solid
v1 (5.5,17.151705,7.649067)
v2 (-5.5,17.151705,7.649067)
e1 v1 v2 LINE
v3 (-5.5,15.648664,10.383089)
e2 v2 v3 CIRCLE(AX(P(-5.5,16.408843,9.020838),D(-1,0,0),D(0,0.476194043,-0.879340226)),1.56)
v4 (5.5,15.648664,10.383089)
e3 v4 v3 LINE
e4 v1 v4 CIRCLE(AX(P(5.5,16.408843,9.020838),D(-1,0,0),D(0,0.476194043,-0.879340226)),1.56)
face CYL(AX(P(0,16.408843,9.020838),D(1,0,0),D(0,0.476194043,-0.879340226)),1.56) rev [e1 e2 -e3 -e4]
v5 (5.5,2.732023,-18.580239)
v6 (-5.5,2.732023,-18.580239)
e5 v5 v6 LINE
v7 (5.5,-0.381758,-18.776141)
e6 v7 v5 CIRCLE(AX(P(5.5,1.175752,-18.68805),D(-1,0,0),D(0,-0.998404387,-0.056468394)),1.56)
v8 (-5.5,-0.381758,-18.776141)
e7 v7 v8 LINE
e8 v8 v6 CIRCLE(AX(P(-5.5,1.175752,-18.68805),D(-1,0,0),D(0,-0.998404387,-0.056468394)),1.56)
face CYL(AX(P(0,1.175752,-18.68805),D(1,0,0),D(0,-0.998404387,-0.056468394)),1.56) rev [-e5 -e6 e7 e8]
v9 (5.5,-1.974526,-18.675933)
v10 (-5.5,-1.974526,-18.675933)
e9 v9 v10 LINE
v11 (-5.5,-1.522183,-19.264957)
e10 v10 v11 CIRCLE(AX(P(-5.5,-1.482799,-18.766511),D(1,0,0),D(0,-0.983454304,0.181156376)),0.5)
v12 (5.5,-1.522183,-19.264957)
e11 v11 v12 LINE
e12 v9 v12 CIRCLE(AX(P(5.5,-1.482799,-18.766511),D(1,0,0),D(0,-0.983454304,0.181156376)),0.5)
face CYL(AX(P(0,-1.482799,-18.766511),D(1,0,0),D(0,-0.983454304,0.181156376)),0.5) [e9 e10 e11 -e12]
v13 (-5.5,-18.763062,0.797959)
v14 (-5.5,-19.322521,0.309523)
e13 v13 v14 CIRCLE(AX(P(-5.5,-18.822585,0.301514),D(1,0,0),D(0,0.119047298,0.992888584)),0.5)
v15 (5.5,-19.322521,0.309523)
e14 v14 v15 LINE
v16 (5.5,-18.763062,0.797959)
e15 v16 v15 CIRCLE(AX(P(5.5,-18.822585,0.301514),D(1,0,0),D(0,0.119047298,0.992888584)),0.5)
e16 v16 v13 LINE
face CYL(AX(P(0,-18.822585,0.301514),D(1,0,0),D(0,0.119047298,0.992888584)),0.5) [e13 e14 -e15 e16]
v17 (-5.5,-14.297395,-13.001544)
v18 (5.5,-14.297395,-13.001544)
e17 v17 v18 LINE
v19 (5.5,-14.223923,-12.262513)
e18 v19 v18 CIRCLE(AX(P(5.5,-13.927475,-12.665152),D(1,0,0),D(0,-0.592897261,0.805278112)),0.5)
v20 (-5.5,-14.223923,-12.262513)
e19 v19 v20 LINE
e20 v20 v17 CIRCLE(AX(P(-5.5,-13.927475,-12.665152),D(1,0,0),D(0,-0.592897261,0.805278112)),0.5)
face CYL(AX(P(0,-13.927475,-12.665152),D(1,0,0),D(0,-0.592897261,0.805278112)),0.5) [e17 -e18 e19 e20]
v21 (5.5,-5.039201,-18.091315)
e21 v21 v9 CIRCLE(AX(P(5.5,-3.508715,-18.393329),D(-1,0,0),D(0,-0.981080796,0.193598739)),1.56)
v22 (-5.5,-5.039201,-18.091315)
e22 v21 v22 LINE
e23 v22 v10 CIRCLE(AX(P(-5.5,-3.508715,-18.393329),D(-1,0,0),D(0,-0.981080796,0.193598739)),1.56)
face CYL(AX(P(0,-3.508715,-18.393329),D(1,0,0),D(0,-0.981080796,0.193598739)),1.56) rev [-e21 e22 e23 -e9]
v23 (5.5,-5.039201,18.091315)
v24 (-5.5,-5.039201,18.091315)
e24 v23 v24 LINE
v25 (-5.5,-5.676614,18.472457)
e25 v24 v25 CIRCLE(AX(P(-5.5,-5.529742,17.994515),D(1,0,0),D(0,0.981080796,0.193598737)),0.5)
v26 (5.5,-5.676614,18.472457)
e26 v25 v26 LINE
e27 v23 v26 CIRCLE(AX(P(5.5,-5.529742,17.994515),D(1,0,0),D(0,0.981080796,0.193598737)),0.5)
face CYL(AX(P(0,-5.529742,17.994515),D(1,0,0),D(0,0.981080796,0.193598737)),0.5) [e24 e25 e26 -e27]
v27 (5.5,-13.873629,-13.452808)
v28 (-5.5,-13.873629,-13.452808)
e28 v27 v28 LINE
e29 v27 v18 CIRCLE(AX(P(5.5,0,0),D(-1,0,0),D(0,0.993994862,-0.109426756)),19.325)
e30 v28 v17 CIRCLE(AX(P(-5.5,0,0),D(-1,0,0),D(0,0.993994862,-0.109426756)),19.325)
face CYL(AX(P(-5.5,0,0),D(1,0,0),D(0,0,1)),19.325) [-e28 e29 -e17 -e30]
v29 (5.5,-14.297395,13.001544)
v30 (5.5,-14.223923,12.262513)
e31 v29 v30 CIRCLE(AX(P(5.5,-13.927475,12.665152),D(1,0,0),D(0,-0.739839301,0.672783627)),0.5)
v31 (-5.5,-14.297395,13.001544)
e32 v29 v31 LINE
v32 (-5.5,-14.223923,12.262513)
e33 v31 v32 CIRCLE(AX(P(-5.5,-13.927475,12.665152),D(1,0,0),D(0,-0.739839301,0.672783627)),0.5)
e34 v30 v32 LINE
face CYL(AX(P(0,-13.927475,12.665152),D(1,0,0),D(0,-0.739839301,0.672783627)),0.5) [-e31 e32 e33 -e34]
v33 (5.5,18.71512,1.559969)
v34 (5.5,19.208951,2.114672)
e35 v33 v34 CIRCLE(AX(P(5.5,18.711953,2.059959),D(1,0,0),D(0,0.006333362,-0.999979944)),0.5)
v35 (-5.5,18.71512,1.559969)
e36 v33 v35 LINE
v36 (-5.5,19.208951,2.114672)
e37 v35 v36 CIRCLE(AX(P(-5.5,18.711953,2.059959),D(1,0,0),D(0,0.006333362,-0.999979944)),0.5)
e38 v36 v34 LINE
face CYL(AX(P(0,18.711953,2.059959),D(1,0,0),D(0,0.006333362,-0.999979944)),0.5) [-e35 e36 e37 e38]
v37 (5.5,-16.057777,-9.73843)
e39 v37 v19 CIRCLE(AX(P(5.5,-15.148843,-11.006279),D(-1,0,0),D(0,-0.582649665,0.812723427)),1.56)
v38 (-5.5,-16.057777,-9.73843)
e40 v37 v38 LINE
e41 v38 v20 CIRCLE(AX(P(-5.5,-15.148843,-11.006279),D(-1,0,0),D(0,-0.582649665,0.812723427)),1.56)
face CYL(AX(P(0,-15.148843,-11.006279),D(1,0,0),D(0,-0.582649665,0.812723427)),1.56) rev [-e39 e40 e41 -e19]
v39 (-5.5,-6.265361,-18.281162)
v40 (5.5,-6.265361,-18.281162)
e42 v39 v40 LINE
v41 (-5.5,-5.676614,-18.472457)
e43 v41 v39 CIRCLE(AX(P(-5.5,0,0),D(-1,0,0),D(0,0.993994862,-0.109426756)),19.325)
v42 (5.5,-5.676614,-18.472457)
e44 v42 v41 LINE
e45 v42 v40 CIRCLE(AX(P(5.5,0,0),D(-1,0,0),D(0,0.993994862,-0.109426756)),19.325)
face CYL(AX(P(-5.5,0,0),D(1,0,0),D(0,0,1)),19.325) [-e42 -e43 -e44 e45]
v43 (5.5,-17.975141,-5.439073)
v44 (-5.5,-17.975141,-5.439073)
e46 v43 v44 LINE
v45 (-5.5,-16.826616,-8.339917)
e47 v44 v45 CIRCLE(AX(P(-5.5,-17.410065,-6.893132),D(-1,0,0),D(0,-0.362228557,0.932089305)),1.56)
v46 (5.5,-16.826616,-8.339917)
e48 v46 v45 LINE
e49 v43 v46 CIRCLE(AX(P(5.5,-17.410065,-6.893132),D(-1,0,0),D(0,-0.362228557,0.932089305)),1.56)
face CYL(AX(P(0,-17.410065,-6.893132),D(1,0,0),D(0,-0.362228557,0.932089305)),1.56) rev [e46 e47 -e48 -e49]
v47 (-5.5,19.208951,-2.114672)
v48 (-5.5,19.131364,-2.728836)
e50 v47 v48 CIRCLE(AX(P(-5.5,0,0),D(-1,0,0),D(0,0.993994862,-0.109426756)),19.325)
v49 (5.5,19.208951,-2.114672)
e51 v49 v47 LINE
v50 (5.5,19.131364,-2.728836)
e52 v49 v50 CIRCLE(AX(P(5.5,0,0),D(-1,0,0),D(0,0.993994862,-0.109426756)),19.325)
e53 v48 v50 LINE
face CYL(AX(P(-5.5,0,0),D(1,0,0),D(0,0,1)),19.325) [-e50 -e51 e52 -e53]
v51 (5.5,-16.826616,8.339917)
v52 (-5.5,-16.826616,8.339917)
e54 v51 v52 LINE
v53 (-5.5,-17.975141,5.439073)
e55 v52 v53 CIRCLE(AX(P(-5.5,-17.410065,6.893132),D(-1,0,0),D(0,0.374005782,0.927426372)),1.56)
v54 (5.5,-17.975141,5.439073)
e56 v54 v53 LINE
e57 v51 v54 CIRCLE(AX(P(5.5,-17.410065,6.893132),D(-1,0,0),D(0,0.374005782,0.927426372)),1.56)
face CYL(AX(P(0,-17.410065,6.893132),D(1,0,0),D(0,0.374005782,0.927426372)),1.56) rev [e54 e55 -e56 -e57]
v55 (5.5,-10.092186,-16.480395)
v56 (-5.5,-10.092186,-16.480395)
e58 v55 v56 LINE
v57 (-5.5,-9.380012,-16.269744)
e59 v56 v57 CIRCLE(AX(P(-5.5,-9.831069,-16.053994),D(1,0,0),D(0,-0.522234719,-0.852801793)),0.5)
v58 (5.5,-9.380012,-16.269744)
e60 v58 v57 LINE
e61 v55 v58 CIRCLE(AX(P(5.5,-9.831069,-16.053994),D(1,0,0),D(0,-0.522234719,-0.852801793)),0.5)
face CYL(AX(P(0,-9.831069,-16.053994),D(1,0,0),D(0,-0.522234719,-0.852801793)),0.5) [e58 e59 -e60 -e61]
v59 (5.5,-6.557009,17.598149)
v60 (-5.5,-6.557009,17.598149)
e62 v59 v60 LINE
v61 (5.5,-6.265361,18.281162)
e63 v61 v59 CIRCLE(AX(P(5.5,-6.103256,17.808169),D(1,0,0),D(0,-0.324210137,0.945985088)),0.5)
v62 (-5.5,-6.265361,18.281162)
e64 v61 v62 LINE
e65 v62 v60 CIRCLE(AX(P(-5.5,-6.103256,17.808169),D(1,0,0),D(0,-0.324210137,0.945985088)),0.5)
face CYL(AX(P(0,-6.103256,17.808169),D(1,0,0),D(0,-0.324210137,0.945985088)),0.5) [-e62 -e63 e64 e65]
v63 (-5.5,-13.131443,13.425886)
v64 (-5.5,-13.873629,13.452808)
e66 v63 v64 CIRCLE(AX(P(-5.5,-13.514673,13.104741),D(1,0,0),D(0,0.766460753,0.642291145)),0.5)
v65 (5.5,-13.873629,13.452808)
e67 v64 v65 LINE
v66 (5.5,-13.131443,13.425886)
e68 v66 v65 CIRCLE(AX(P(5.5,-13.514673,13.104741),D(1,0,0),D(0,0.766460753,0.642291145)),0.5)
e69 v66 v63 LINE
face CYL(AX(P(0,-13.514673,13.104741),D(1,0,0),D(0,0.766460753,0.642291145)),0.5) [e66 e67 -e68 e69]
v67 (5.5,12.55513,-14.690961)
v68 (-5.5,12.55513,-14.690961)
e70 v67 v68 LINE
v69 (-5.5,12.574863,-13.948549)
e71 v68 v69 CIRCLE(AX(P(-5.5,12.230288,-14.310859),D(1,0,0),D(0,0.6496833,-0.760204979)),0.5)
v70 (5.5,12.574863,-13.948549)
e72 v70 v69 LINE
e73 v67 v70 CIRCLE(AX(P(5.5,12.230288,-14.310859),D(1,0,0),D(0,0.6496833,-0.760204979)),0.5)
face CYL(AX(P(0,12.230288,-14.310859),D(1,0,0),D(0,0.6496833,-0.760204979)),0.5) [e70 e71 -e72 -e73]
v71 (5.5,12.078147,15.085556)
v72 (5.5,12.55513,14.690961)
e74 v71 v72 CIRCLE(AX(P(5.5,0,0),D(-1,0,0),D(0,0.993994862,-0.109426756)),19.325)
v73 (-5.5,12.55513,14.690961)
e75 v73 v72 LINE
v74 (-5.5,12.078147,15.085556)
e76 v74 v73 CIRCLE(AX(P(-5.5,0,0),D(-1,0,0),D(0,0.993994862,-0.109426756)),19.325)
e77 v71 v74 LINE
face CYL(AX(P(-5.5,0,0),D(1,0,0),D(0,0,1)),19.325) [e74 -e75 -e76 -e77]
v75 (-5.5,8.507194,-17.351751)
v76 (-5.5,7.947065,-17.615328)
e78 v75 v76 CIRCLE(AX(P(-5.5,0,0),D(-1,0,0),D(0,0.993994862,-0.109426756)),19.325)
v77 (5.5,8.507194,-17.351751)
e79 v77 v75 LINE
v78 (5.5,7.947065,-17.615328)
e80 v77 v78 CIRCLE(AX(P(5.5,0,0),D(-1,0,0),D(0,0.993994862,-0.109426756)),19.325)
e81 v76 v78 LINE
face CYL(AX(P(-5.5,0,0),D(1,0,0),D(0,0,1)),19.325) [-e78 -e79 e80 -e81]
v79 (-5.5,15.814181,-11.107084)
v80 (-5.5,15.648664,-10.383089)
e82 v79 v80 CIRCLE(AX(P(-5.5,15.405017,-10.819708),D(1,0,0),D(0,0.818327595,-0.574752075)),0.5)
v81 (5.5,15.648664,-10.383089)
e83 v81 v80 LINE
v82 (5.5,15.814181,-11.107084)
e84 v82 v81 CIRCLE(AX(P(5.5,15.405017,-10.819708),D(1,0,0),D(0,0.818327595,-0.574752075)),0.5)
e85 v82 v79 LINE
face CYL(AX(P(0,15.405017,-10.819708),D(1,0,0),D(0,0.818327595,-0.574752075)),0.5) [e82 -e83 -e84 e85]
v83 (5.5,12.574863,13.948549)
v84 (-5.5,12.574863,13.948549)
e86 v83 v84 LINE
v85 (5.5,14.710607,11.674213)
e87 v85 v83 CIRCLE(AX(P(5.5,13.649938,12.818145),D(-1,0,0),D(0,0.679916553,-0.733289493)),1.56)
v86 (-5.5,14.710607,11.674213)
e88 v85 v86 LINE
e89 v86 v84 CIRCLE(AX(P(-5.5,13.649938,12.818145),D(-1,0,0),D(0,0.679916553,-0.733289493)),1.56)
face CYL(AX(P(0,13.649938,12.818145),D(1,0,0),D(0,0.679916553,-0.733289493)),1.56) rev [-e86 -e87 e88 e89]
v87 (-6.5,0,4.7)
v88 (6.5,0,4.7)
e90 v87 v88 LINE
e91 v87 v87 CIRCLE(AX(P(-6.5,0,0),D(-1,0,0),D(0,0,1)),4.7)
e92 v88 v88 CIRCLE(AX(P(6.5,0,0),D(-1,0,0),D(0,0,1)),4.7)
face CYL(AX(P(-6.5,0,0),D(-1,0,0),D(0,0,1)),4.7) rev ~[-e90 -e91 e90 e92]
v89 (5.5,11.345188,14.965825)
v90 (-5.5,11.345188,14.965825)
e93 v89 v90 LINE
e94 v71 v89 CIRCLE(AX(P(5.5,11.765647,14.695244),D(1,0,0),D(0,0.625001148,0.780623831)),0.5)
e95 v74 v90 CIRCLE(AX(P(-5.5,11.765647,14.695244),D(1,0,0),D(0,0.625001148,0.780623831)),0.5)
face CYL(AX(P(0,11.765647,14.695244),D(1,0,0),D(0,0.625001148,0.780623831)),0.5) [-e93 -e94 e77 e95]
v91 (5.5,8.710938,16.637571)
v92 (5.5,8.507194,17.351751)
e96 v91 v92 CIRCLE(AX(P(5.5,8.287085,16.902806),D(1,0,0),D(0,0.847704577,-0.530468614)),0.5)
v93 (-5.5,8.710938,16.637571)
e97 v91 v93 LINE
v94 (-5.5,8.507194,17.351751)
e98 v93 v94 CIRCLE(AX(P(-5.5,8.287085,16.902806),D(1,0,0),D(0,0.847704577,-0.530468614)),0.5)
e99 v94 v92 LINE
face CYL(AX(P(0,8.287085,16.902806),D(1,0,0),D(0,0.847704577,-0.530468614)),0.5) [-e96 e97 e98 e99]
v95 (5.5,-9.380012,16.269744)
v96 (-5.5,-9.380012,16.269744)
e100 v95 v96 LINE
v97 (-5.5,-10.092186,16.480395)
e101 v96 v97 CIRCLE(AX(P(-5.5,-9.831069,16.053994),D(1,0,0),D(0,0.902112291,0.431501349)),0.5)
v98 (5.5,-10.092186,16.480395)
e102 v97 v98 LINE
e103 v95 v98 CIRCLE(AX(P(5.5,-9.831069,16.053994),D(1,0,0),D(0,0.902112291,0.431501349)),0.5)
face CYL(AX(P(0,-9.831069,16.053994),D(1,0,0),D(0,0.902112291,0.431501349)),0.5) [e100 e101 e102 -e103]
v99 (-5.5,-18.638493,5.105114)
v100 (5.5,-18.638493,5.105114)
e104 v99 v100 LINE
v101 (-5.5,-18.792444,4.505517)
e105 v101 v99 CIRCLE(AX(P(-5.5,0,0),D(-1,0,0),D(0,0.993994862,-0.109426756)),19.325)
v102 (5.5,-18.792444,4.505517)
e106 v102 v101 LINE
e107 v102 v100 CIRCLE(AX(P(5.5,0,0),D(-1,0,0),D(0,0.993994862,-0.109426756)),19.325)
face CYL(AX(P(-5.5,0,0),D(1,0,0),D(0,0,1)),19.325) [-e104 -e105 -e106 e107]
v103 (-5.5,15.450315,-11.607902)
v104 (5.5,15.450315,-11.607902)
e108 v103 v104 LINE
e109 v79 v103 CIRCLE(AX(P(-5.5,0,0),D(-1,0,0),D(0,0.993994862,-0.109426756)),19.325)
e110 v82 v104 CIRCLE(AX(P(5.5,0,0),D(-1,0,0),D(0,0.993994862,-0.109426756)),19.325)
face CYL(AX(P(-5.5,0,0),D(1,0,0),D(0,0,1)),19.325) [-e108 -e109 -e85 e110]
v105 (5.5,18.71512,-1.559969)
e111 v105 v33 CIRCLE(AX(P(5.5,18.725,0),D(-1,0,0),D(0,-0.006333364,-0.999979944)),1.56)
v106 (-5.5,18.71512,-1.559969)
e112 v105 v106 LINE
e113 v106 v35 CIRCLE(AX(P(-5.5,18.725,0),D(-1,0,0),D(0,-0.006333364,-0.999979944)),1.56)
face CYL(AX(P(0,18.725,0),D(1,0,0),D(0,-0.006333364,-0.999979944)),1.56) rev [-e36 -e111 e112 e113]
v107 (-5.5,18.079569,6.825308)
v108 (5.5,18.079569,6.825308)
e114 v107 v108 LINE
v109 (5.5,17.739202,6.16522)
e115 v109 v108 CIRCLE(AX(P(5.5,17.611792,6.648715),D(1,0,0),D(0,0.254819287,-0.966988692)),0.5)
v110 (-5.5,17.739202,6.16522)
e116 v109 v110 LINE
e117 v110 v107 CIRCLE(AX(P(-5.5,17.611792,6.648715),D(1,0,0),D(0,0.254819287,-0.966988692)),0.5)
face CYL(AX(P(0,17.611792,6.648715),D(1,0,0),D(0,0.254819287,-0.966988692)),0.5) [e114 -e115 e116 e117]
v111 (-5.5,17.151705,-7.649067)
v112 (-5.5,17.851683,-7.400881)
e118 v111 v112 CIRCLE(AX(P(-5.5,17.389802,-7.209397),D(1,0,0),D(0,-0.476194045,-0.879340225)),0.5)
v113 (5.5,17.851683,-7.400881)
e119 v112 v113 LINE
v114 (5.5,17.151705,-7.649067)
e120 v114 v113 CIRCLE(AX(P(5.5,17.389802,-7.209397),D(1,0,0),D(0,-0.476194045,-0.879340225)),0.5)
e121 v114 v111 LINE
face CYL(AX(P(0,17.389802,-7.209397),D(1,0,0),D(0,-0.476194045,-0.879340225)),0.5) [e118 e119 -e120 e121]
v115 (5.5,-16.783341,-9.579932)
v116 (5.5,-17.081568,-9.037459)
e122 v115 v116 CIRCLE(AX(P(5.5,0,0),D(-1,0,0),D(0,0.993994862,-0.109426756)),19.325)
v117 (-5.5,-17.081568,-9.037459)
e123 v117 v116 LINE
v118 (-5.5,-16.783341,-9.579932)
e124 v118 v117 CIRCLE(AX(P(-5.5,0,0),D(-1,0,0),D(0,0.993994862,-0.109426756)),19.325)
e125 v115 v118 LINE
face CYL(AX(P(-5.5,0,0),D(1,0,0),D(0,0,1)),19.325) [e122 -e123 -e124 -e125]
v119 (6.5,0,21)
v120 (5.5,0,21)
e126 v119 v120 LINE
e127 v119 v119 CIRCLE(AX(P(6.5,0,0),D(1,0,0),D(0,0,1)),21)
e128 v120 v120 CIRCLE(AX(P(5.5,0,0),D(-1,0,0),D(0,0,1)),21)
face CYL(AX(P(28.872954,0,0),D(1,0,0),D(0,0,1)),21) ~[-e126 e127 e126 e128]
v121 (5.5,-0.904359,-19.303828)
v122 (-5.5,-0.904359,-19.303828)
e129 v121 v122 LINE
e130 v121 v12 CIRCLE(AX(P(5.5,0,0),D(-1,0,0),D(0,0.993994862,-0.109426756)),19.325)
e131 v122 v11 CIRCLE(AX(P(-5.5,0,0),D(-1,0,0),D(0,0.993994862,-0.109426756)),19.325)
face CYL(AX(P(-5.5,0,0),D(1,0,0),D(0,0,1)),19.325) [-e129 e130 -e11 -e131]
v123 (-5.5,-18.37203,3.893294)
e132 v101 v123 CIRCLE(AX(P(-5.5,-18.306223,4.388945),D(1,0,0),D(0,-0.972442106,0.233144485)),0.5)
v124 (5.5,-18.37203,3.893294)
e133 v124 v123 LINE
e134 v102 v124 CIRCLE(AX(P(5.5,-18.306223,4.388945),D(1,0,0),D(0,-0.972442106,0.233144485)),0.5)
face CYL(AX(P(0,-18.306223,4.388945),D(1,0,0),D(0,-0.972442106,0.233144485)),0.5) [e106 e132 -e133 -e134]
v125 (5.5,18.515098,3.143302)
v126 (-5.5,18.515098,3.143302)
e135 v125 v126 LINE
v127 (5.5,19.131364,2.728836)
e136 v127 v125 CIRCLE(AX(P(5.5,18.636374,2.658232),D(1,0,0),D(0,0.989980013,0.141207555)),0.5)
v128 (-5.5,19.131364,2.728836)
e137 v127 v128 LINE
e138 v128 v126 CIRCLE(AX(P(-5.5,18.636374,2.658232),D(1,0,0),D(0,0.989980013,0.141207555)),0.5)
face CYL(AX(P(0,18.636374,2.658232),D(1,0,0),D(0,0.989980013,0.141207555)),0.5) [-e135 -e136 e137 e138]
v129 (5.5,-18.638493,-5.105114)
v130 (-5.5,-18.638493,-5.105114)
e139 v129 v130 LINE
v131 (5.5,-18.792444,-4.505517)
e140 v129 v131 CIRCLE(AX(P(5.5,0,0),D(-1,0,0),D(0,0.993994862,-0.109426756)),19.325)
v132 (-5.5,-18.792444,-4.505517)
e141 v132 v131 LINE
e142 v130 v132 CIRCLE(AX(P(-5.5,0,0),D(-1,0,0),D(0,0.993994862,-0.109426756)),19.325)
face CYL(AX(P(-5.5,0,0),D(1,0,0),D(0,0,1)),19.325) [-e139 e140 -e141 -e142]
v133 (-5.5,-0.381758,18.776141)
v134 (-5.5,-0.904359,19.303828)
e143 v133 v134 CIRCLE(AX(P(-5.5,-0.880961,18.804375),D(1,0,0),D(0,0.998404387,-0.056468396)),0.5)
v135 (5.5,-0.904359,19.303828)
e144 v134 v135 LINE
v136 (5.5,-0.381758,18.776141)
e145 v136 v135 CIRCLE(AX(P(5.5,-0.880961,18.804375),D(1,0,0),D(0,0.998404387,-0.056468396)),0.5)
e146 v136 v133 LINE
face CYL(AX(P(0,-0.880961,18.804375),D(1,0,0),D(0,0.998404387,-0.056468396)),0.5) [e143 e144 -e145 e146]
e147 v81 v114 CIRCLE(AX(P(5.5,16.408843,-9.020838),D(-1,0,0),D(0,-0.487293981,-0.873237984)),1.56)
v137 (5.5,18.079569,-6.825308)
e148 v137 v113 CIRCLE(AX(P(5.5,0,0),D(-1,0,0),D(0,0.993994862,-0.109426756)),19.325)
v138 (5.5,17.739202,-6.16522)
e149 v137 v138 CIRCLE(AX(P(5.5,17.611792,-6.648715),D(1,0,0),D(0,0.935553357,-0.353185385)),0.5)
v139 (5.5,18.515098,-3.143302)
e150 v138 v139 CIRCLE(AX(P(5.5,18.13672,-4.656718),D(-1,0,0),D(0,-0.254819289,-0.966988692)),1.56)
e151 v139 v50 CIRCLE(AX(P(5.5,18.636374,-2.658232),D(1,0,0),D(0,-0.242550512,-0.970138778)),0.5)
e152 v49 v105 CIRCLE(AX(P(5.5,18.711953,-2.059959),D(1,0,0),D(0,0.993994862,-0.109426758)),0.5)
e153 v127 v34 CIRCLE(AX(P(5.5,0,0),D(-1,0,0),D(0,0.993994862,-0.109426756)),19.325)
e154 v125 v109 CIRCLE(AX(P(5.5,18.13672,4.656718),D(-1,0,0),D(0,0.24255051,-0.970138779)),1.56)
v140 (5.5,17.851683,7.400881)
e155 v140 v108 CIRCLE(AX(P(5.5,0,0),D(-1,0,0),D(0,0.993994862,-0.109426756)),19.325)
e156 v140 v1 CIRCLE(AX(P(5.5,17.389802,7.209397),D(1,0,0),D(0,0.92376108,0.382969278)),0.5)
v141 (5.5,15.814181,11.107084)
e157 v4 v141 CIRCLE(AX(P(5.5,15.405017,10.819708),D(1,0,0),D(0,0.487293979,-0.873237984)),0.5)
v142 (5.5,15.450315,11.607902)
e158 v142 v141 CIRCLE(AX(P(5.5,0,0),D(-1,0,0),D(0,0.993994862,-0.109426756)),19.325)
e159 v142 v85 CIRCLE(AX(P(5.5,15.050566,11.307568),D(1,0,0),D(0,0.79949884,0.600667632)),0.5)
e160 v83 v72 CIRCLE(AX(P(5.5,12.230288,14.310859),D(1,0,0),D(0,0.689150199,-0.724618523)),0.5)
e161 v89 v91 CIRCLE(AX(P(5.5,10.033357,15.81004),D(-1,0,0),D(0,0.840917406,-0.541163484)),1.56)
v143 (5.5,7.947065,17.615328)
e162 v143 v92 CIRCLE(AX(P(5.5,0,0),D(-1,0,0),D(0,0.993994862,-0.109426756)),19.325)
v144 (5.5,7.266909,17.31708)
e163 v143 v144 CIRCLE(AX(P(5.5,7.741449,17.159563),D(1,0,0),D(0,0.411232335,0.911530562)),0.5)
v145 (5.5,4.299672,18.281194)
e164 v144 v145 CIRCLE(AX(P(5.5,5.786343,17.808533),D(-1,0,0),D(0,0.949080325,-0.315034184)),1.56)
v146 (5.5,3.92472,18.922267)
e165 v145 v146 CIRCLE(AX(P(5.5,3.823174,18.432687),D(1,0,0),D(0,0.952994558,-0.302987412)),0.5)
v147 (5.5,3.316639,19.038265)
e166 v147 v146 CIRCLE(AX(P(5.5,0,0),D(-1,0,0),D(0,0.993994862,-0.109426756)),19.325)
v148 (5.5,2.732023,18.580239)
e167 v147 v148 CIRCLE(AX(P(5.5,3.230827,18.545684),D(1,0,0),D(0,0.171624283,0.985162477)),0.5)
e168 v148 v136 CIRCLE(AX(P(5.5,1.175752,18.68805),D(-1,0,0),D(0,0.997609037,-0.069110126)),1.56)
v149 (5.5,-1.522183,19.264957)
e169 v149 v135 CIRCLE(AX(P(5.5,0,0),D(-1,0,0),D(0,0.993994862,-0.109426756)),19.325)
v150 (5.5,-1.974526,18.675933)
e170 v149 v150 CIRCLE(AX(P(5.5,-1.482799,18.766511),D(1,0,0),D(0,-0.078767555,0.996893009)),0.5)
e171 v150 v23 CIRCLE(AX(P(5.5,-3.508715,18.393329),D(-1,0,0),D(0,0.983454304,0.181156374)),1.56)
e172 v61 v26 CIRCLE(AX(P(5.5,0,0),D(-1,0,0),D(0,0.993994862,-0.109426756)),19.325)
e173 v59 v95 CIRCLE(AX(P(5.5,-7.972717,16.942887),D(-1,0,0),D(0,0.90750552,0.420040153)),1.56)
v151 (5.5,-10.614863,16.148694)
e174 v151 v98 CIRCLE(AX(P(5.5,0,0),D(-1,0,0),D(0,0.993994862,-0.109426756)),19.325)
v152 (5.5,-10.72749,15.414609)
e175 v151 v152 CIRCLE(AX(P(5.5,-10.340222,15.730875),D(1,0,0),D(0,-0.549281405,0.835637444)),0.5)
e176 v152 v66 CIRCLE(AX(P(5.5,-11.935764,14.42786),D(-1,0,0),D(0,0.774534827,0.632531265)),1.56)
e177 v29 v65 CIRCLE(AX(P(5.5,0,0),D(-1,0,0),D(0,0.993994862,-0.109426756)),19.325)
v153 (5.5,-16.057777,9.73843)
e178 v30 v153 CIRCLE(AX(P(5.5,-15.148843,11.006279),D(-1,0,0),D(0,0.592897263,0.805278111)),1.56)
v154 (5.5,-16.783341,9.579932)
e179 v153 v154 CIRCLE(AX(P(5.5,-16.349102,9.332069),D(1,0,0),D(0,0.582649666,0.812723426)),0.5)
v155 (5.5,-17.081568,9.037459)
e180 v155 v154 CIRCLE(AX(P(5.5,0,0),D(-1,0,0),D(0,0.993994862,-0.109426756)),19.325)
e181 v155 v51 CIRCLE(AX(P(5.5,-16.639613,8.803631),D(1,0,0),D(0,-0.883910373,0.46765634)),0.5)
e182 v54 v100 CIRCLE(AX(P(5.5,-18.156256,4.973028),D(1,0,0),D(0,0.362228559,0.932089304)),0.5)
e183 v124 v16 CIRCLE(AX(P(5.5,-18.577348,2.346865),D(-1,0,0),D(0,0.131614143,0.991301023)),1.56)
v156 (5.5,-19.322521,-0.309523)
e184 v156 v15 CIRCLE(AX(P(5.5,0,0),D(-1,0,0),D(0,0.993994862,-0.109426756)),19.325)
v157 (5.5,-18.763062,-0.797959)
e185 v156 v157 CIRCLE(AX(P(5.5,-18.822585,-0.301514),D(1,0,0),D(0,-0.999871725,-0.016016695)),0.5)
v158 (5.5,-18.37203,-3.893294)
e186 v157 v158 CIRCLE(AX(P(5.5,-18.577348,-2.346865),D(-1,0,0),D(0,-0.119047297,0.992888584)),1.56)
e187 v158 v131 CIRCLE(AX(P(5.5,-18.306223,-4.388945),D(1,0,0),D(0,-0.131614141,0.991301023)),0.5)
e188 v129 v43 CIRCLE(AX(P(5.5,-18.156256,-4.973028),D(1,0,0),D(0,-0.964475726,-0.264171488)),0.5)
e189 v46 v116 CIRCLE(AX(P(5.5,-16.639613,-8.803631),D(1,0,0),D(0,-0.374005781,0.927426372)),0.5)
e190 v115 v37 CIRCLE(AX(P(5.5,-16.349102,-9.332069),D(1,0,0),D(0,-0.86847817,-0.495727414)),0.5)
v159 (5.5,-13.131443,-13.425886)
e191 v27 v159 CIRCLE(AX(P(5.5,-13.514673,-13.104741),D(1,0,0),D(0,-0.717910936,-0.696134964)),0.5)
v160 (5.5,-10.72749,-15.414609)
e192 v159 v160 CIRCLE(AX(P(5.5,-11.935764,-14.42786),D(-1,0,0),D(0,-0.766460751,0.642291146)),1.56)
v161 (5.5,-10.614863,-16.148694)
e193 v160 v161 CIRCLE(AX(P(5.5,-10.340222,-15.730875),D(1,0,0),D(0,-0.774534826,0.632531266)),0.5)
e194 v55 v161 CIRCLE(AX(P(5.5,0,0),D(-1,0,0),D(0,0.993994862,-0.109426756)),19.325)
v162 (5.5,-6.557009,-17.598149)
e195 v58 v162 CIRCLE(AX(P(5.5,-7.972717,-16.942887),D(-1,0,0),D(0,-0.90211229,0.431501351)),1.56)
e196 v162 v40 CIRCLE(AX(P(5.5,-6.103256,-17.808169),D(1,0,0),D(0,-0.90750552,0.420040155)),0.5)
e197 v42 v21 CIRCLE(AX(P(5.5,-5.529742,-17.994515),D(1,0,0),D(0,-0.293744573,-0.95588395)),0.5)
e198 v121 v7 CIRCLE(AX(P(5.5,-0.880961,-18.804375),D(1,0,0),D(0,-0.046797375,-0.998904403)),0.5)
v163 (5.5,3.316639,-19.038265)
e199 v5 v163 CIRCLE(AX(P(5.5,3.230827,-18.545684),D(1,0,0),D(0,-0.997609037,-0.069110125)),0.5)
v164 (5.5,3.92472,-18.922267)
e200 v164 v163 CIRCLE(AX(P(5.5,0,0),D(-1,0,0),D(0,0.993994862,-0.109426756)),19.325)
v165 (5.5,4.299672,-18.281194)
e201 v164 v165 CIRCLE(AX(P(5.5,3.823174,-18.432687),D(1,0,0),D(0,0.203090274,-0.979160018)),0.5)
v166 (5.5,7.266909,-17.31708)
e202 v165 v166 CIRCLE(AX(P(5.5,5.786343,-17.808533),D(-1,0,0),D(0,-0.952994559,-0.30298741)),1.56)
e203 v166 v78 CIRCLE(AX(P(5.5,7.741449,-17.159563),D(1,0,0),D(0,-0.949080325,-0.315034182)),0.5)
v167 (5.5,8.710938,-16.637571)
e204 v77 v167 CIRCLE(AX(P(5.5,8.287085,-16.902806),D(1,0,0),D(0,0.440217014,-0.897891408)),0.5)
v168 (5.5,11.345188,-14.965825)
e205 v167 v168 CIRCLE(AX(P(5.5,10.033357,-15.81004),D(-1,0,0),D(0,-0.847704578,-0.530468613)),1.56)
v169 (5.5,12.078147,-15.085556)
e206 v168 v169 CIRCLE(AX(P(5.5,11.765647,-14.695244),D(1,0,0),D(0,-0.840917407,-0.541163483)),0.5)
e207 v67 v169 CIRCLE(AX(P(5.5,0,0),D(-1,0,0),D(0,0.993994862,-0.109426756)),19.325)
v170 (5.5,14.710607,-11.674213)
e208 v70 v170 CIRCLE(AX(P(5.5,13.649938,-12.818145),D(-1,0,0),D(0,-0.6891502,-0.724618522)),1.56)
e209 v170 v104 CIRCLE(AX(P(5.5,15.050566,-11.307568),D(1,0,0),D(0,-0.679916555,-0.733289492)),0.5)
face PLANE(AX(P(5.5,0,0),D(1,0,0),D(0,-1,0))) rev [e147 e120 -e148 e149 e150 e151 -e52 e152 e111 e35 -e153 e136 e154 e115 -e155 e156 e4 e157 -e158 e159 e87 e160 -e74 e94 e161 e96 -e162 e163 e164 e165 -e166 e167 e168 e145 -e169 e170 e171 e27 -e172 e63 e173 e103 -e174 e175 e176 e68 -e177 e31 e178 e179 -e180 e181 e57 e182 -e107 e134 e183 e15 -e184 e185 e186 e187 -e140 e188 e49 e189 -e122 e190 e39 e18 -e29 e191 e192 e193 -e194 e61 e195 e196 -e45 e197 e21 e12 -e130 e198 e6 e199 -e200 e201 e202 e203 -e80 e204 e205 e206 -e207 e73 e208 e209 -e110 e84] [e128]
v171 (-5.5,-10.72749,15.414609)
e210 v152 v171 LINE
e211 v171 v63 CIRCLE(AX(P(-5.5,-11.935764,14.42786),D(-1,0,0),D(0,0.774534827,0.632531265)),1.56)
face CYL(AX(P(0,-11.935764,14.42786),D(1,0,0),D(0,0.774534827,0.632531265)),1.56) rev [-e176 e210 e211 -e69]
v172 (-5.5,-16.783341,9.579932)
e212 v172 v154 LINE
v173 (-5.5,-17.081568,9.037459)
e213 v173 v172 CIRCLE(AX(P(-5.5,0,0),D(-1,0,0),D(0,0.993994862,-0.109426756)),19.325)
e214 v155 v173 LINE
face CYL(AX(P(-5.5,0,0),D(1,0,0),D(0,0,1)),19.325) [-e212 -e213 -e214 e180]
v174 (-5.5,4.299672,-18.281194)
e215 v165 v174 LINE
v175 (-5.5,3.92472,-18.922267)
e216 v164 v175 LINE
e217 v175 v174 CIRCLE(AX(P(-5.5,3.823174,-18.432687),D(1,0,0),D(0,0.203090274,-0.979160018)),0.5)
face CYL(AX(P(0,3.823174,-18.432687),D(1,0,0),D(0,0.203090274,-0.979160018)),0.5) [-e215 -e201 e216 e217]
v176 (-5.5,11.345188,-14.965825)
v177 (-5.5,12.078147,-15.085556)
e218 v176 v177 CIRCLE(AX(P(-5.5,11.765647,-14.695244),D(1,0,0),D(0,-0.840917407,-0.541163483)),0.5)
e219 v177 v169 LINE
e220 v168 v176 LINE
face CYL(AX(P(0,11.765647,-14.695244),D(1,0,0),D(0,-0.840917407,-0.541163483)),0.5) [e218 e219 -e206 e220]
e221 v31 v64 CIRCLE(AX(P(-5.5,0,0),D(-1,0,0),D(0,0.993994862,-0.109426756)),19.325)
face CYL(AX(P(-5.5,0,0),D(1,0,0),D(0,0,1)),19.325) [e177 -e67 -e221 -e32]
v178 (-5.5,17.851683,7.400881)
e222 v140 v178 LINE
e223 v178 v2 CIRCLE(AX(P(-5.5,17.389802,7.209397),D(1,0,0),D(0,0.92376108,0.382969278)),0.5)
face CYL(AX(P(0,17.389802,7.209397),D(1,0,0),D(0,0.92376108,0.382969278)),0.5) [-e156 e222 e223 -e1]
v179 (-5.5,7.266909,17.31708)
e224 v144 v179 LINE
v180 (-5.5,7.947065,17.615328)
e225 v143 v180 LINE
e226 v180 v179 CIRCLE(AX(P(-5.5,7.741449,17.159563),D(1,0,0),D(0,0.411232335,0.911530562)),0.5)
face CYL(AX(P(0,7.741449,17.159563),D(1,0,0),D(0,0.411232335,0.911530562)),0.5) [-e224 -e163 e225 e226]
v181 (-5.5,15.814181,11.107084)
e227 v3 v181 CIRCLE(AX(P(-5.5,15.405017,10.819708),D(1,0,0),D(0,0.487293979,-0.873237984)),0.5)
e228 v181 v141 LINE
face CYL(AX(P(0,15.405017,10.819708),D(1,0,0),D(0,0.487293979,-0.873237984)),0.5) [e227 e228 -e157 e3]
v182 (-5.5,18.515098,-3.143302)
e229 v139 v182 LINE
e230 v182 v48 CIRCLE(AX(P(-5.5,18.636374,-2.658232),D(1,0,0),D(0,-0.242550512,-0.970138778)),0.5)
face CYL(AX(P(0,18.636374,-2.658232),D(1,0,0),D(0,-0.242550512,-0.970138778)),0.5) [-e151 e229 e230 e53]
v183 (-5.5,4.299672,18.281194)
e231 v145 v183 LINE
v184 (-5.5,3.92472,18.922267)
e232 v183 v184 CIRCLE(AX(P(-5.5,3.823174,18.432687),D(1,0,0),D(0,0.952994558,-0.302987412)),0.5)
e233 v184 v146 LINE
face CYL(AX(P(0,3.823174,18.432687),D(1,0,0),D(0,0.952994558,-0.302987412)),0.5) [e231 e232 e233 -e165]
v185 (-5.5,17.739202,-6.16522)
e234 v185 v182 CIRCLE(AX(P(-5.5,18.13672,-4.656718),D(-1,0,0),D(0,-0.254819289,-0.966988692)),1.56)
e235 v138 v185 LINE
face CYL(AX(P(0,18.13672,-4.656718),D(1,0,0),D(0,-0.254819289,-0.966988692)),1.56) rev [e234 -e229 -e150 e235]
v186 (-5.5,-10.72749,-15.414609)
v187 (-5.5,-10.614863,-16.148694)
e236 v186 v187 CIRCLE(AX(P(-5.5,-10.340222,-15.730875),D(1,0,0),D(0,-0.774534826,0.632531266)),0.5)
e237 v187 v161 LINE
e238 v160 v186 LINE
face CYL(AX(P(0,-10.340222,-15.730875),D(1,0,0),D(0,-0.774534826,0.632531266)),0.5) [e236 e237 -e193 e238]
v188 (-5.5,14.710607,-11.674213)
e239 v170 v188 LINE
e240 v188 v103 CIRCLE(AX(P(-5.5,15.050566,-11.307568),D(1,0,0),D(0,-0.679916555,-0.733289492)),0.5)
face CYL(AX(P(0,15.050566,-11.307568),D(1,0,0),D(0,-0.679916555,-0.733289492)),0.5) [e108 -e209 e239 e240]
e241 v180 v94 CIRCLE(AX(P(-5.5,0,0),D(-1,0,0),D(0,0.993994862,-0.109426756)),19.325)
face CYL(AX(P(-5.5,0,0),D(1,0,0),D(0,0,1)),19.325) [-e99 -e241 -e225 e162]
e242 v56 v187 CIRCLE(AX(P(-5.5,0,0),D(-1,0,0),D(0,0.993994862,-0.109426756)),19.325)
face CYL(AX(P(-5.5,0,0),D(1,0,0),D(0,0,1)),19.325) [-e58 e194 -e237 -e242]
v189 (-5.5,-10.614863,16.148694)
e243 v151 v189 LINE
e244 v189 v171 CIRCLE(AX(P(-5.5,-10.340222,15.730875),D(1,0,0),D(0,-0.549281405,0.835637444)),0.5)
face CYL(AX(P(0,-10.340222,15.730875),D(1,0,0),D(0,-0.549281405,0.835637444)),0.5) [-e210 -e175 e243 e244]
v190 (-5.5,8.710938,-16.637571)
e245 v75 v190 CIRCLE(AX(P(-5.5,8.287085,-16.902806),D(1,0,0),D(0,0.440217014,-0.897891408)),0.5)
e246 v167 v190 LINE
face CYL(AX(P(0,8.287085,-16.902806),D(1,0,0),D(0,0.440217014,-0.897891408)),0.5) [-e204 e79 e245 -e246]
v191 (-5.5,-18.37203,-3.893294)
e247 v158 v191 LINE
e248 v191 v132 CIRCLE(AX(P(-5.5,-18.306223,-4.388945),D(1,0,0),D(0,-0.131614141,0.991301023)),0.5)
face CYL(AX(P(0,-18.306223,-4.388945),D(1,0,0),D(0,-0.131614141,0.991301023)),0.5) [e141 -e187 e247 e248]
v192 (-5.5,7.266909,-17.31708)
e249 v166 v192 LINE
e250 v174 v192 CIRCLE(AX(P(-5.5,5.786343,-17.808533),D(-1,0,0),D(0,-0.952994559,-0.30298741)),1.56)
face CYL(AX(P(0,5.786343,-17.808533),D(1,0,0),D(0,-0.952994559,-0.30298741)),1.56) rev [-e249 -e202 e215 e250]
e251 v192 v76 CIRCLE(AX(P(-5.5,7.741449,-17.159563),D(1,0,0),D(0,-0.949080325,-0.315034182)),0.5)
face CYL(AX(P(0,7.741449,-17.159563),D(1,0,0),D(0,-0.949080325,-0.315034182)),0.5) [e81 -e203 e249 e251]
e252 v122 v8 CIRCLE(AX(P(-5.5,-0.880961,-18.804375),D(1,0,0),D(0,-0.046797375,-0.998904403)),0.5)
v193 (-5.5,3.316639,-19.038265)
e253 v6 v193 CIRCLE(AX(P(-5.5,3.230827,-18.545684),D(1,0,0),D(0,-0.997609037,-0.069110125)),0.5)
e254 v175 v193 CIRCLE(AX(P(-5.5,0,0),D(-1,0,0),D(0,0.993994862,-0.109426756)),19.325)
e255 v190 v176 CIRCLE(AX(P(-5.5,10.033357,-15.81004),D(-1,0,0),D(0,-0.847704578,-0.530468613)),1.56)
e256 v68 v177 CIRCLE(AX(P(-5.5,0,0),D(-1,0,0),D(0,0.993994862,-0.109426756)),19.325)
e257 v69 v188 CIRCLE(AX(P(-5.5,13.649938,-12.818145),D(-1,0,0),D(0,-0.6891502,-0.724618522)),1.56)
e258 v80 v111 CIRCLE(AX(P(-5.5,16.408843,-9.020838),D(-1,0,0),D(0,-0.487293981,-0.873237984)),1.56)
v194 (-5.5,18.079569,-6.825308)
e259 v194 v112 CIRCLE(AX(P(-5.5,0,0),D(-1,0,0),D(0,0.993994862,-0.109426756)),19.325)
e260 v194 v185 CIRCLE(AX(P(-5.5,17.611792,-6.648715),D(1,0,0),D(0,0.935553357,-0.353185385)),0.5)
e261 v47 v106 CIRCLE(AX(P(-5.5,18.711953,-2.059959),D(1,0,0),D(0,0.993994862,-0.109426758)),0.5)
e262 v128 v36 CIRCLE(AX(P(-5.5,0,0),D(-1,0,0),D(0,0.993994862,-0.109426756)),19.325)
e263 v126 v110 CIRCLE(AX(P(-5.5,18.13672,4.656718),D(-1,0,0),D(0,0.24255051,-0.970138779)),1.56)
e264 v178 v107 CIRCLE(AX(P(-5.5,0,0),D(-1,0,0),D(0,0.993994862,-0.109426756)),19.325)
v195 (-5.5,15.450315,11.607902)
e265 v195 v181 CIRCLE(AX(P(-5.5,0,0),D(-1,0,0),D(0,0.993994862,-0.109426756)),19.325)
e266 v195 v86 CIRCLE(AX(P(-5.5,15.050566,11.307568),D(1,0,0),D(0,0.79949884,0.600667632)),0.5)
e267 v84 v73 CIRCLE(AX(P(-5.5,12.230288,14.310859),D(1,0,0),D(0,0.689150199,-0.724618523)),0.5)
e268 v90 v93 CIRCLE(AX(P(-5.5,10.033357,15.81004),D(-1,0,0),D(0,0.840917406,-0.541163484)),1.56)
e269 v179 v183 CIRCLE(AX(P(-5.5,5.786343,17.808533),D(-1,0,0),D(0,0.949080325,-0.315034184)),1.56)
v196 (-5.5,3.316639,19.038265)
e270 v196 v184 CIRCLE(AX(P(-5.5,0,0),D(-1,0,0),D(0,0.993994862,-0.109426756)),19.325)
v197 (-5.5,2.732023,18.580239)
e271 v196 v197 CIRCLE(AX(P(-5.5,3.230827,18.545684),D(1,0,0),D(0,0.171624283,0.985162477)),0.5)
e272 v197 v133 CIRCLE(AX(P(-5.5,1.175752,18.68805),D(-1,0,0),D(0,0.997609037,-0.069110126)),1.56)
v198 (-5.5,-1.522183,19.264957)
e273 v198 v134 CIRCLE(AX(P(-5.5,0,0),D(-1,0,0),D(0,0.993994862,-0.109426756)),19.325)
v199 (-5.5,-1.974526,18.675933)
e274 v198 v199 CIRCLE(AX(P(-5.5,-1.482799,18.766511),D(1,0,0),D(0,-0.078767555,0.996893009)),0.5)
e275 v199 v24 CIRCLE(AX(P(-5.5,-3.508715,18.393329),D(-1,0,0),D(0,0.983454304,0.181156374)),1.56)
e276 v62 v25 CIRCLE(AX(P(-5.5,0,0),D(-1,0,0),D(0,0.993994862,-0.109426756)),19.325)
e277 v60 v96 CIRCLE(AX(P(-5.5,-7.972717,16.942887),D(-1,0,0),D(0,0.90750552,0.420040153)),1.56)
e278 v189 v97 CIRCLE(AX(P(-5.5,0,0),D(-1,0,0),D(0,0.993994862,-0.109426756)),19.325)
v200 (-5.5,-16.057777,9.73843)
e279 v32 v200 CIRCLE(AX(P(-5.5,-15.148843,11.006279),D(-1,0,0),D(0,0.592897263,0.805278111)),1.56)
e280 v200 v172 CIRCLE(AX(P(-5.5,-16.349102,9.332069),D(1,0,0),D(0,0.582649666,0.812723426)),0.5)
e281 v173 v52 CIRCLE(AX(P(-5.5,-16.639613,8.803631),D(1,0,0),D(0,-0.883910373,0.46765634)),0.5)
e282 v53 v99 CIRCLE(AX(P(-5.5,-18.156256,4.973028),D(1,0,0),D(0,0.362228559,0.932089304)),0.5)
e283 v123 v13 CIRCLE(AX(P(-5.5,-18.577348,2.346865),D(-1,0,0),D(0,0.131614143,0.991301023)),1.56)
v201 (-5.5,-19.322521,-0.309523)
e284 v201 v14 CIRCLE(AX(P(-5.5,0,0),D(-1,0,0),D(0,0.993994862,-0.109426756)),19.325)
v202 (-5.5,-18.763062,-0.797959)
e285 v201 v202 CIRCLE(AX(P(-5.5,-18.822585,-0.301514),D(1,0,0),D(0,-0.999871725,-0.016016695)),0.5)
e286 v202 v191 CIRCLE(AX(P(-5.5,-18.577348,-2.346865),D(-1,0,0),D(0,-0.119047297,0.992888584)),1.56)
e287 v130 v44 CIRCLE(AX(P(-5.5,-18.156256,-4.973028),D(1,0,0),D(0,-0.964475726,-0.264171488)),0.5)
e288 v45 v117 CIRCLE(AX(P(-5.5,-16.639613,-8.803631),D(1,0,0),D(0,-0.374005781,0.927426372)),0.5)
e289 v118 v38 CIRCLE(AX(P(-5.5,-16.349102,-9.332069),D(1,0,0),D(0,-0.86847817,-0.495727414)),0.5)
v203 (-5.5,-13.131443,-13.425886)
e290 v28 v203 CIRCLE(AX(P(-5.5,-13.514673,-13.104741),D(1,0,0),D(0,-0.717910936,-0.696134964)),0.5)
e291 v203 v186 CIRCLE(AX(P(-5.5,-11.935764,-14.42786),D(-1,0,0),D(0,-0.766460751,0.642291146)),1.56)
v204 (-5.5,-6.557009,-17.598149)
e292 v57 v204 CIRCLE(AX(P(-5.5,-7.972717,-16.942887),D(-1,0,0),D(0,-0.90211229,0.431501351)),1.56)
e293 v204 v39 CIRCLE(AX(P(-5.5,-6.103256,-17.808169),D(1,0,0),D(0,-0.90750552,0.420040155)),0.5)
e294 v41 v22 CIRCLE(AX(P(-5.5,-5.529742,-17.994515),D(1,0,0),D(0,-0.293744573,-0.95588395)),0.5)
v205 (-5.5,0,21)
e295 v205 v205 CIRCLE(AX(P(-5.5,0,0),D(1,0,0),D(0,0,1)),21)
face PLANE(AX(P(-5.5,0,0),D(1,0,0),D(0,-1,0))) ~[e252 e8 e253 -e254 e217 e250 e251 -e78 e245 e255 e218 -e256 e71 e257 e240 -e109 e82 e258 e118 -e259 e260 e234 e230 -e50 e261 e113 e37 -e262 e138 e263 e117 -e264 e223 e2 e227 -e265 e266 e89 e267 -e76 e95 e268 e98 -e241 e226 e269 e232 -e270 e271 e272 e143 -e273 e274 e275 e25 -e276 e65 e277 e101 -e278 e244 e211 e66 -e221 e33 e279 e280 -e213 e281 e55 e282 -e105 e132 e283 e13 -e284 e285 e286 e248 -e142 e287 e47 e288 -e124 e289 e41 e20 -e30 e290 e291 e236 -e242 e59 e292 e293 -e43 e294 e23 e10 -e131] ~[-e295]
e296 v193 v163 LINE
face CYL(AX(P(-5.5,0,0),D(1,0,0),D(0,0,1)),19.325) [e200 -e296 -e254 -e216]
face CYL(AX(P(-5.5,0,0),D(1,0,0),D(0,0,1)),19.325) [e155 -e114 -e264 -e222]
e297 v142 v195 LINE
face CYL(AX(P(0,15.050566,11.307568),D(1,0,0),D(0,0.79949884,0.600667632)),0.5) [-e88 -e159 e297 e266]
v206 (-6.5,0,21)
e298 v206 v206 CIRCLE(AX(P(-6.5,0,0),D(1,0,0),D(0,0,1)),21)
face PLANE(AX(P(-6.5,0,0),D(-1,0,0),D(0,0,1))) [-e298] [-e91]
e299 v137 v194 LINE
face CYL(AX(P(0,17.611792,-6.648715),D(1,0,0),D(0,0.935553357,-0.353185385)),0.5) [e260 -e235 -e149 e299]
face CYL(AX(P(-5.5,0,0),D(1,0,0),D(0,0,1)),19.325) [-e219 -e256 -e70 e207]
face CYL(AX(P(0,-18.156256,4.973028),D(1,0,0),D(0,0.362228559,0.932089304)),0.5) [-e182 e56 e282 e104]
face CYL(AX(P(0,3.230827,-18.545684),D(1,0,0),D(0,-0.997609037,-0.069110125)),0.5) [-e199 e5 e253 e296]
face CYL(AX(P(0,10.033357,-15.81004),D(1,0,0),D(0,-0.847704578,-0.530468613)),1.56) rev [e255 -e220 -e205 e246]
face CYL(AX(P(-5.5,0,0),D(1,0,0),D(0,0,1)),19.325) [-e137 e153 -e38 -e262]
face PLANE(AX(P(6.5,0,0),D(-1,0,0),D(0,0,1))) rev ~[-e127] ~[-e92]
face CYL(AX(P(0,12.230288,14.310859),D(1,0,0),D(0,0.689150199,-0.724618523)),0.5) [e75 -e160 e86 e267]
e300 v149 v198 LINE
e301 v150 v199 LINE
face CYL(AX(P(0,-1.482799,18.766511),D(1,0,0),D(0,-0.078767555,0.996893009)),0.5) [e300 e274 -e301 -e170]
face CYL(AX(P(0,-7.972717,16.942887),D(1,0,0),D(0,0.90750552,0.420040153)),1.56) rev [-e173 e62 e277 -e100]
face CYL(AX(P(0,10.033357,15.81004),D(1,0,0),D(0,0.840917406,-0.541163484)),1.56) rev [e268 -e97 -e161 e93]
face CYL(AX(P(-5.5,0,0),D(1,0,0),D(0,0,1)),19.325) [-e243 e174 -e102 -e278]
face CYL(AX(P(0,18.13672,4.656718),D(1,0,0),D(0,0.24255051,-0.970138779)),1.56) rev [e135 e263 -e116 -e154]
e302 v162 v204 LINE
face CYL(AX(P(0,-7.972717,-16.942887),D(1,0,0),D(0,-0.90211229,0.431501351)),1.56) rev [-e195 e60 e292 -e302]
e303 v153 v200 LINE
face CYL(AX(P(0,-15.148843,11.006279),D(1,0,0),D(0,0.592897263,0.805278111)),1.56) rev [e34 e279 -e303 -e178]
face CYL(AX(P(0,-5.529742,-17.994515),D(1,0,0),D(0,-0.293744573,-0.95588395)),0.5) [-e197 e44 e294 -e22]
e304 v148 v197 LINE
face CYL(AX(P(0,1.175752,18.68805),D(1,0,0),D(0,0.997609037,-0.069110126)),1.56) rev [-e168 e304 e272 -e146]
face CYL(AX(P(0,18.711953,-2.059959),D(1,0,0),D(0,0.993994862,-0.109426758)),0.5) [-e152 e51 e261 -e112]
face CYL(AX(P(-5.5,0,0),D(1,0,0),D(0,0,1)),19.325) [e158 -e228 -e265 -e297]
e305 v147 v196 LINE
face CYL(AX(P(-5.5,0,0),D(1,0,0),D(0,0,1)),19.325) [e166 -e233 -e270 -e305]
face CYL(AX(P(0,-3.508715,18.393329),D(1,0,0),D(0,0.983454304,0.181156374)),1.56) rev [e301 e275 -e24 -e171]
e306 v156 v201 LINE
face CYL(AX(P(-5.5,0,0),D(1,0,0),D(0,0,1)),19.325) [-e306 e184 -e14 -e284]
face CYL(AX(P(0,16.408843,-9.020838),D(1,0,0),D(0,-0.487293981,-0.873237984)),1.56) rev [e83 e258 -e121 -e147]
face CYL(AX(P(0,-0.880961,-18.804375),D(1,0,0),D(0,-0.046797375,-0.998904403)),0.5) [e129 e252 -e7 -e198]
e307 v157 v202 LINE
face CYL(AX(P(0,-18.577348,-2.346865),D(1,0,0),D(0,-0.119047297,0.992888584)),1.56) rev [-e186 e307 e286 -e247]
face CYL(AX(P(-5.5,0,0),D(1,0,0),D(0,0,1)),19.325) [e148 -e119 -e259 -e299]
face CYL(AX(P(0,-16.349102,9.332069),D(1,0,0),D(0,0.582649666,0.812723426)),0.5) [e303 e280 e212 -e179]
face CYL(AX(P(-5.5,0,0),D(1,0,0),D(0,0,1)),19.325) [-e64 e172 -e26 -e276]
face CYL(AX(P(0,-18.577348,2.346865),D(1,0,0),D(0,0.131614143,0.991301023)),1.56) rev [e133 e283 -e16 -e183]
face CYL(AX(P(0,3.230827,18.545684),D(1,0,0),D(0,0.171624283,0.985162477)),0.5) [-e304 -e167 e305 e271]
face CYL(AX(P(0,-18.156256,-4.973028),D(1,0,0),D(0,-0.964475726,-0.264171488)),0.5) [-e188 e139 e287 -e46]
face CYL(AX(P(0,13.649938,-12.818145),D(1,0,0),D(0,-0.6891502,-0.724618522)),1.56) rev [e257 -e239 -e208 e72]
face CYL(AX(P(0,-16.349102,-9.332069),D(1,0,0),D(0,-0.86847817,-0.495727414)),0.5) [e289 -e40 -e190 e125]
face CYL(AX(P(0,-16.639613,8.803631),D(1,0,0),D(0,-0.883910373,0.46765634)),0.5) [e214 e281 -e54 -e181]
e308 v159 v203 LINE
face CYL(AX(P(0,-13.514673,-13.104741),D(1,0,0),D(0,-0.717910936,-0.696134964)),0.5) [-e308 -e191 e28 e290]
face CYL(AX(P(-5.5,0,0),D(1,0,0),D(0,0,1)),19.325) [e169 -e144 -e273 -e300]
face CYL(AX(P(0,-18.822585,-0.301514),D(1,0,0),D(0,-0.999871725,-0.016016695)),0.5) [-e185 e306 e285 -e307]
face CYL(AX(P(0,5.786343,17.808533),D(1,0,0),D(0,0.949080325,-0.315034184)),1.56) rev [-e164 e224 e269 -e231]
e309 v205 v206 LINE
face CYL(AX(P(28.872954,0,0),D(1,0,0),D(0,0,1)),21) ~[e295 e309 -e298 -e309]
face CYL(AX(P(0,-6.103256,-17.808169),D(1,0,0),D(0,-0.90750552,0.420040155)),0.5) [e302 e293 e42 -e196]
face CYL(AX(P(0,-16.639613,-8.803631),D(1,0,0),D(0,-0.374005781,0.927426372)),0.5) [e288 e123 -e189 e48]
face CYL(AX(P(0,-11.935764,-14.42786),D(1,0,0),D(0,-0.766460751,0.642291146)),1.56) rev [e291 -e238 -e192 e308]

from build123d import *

# Parameters (mm, degrees)
SKETCH_3_OUTSIDE_W        = 52.04
SKETCH_3_OUTSIDE_H        = 52.04
CUT_EXTRUDE_3_DEPTH       = 5.5
PATTERN_CIRCULAR_2_COUNT  = 25
SKETCH_7_R                = 5
CUT_EXTRUDE_4_DEPTH       = 36.616007637
CUT_EXTRUDE_25_DEPTH      = 33.810059433
CUT_EXTRUDE_25_DEPTH_BACK = 33.810059433
SKETCH_42_W               = 11.690908627
SKETCH_42_H               = 55.464155105
SKETCH_42_W_2             = 17.903263655
SKETCH_42_H_2             = 55.986187397
CUT_EXTRUDE_27_DEPTH      = 35.372954485
CUT_EXTRUDE_27_DEPTH_BACK = 35.372954485
SKETCH_43_R               = 22.5
SKETCH_43_R_2             = 21
SKETCH_44_R               = 5
SKETCH_44_R_2             = 4.7
EXTRUDE_1_DEPTH           = 13


with BuildPart() as part:
    # 草图1 → 旋转1 (revolve)
    with BuildSketch(Plane.XY, mode=Mode.PRIVATE) as revolve_1_sk:
        Polygon((-8, 15), (-5.5, 15), (-5.5, 19.325), (5.5, 19.325), (5.5, 15), (8, 15), (8, 0), (-8, 0), align=None)
    revolve(revolve_1_sk.sketch.rotate(Axis((-8, 0, 0), (1, 0, 0)), 90), axis=Axis((-8, 0, 0), (1, 0, 0)))

    # 草图3 outside → 切除-拉伸3 (cut, symmetric)
    with BuildSketch(Plane(origin=(0, 0, 0), x_dir=(0, 0, -1), z_dir=(1, 0, 0))):
        Rectangle(SKETCH_3_OUTSIDE_W, SKETCH_3_OUTSIDE_H)
        with BuildLine():
            ThreePointArc((-2.114672063, 19.208950702), (0, -19.325), (2.114672063, 19.208950702))
            ThreePointArc((2.114672063, 19.208950702), (1.727490621, 19.085403384), (1.559968713, 18.715119953))
            ThreePointArc((1.559968713, 18.715119953), (0, 17.165), (-1.559968713, 18.715119953))
            ThreePointArc((-1.559968713, 18.715119953), (-1.727490621, 19.085403384), (-2.114672063, 19.208950702))
        make_face(mode=Mode.SUBTRACT)
    cut_extrude_3 = extrude(amount=CUT_EXTRUDE_3_DEPTH, both=True, mode=Mode.SUBTRACT)

    # 阵列(圆周)2: 切除-拉伸3 ×25 about axis
    pattern_circular_2_axis = Axis((0, 0, 0), (1, 0, 0))
    for i in range(1, PATTERN_CIRCULAR_2_COUNT):
        add(cut_extrude_3.rotate(pattern_circular_2_axis, i * 360 / PATTERN_CIRCULAR_2_COUNT), mode=Mode.SUBTRACT)

    # 草图4 → 旋转2 (revolve)
    with BuildSketch(Plane.XY, mode=Mode.PRIVATE) as revolve_2_sk:
        Polygon((-7, 22.5), (-7, 15), (-5.5, 15), (-5.5, 21), (-5.901923789, 22.5), align=None)
        Polygon((7, 22.5), (7, 15), (5.5, 15), (5.5, 21), (5.901923789, 22.5), align=None)
    revolve(revolve_2_sk.sketch.rotate(Axis((-8, 0, 0), (1, 0, 0)), 180), axis=Axis((-8, 0, 0), (1, 0, 0)))

    # 草图7 → 切除-拉伸4 (cut, through all)
    with BuildSketch(Plane.ZY.offset(8)):
        Circle(SKETCH_7_R)
    extrude(amount=-CUT_EXTRUDE_4_DEPTH, mode=Mode.SUBTRACT)

    # 草图42 → 切除-拉伸25 (cut, two sides: drawn at the far end of the back side and taken through both)
    with BuildSketch(Plane(origin=(0, 0, 0), x_dir=(1, 0, 0), z_dir=(0, 1, 0)).offset(-CUT_EXTRUDE_25_DEPTH_BACK)):
        with Locations((-12.345454314, 2.796156441)):
            Rectangle(SKETCH_42_W, SKETCH_42_H)
        with Locations((15.451631827, 4.731003793)):
            Rectangle(SKETCH_42_W_2, SKETCH_42_H_2)
    extrude(amount=CUT_EXTRUDE_25_DEPTH + CUT_EXTRUDE_25_DEPTH_BACK, mode=Mode.SUBTRACT)

    # 草图43 → 切除-拉伸27 (cut, two sides: drawn at the far end of the back side and taken through both)
    with BuildSketch(Plane.ZY.offset(6.5).offset(-CUT_EXTRUDE_27_DEPTH_BACK)):
        Circle(SKETCH_43_R)
        Circle(SKETCH_43_R_2, mode=Mode.SUBTRACT)
    extrude(amount=CUT_EXTRUDE_27_DEPTH + CUT_EXTRUDE_27_DEPTH_BACK, mode=Mode.SUBTRACT)

    # 草图44 → 凸台-拉伸1 (add)
    with BuildSketch(Plane.ZY.offset(6.5)):
        Circle(SKETCH_44_R)
        Circle(SKETCH_44_R_2, mode=Mode.SUBTRACT)
    extrude(amount=-EXTRUDE_1_DEPTH)


solid = part.part
